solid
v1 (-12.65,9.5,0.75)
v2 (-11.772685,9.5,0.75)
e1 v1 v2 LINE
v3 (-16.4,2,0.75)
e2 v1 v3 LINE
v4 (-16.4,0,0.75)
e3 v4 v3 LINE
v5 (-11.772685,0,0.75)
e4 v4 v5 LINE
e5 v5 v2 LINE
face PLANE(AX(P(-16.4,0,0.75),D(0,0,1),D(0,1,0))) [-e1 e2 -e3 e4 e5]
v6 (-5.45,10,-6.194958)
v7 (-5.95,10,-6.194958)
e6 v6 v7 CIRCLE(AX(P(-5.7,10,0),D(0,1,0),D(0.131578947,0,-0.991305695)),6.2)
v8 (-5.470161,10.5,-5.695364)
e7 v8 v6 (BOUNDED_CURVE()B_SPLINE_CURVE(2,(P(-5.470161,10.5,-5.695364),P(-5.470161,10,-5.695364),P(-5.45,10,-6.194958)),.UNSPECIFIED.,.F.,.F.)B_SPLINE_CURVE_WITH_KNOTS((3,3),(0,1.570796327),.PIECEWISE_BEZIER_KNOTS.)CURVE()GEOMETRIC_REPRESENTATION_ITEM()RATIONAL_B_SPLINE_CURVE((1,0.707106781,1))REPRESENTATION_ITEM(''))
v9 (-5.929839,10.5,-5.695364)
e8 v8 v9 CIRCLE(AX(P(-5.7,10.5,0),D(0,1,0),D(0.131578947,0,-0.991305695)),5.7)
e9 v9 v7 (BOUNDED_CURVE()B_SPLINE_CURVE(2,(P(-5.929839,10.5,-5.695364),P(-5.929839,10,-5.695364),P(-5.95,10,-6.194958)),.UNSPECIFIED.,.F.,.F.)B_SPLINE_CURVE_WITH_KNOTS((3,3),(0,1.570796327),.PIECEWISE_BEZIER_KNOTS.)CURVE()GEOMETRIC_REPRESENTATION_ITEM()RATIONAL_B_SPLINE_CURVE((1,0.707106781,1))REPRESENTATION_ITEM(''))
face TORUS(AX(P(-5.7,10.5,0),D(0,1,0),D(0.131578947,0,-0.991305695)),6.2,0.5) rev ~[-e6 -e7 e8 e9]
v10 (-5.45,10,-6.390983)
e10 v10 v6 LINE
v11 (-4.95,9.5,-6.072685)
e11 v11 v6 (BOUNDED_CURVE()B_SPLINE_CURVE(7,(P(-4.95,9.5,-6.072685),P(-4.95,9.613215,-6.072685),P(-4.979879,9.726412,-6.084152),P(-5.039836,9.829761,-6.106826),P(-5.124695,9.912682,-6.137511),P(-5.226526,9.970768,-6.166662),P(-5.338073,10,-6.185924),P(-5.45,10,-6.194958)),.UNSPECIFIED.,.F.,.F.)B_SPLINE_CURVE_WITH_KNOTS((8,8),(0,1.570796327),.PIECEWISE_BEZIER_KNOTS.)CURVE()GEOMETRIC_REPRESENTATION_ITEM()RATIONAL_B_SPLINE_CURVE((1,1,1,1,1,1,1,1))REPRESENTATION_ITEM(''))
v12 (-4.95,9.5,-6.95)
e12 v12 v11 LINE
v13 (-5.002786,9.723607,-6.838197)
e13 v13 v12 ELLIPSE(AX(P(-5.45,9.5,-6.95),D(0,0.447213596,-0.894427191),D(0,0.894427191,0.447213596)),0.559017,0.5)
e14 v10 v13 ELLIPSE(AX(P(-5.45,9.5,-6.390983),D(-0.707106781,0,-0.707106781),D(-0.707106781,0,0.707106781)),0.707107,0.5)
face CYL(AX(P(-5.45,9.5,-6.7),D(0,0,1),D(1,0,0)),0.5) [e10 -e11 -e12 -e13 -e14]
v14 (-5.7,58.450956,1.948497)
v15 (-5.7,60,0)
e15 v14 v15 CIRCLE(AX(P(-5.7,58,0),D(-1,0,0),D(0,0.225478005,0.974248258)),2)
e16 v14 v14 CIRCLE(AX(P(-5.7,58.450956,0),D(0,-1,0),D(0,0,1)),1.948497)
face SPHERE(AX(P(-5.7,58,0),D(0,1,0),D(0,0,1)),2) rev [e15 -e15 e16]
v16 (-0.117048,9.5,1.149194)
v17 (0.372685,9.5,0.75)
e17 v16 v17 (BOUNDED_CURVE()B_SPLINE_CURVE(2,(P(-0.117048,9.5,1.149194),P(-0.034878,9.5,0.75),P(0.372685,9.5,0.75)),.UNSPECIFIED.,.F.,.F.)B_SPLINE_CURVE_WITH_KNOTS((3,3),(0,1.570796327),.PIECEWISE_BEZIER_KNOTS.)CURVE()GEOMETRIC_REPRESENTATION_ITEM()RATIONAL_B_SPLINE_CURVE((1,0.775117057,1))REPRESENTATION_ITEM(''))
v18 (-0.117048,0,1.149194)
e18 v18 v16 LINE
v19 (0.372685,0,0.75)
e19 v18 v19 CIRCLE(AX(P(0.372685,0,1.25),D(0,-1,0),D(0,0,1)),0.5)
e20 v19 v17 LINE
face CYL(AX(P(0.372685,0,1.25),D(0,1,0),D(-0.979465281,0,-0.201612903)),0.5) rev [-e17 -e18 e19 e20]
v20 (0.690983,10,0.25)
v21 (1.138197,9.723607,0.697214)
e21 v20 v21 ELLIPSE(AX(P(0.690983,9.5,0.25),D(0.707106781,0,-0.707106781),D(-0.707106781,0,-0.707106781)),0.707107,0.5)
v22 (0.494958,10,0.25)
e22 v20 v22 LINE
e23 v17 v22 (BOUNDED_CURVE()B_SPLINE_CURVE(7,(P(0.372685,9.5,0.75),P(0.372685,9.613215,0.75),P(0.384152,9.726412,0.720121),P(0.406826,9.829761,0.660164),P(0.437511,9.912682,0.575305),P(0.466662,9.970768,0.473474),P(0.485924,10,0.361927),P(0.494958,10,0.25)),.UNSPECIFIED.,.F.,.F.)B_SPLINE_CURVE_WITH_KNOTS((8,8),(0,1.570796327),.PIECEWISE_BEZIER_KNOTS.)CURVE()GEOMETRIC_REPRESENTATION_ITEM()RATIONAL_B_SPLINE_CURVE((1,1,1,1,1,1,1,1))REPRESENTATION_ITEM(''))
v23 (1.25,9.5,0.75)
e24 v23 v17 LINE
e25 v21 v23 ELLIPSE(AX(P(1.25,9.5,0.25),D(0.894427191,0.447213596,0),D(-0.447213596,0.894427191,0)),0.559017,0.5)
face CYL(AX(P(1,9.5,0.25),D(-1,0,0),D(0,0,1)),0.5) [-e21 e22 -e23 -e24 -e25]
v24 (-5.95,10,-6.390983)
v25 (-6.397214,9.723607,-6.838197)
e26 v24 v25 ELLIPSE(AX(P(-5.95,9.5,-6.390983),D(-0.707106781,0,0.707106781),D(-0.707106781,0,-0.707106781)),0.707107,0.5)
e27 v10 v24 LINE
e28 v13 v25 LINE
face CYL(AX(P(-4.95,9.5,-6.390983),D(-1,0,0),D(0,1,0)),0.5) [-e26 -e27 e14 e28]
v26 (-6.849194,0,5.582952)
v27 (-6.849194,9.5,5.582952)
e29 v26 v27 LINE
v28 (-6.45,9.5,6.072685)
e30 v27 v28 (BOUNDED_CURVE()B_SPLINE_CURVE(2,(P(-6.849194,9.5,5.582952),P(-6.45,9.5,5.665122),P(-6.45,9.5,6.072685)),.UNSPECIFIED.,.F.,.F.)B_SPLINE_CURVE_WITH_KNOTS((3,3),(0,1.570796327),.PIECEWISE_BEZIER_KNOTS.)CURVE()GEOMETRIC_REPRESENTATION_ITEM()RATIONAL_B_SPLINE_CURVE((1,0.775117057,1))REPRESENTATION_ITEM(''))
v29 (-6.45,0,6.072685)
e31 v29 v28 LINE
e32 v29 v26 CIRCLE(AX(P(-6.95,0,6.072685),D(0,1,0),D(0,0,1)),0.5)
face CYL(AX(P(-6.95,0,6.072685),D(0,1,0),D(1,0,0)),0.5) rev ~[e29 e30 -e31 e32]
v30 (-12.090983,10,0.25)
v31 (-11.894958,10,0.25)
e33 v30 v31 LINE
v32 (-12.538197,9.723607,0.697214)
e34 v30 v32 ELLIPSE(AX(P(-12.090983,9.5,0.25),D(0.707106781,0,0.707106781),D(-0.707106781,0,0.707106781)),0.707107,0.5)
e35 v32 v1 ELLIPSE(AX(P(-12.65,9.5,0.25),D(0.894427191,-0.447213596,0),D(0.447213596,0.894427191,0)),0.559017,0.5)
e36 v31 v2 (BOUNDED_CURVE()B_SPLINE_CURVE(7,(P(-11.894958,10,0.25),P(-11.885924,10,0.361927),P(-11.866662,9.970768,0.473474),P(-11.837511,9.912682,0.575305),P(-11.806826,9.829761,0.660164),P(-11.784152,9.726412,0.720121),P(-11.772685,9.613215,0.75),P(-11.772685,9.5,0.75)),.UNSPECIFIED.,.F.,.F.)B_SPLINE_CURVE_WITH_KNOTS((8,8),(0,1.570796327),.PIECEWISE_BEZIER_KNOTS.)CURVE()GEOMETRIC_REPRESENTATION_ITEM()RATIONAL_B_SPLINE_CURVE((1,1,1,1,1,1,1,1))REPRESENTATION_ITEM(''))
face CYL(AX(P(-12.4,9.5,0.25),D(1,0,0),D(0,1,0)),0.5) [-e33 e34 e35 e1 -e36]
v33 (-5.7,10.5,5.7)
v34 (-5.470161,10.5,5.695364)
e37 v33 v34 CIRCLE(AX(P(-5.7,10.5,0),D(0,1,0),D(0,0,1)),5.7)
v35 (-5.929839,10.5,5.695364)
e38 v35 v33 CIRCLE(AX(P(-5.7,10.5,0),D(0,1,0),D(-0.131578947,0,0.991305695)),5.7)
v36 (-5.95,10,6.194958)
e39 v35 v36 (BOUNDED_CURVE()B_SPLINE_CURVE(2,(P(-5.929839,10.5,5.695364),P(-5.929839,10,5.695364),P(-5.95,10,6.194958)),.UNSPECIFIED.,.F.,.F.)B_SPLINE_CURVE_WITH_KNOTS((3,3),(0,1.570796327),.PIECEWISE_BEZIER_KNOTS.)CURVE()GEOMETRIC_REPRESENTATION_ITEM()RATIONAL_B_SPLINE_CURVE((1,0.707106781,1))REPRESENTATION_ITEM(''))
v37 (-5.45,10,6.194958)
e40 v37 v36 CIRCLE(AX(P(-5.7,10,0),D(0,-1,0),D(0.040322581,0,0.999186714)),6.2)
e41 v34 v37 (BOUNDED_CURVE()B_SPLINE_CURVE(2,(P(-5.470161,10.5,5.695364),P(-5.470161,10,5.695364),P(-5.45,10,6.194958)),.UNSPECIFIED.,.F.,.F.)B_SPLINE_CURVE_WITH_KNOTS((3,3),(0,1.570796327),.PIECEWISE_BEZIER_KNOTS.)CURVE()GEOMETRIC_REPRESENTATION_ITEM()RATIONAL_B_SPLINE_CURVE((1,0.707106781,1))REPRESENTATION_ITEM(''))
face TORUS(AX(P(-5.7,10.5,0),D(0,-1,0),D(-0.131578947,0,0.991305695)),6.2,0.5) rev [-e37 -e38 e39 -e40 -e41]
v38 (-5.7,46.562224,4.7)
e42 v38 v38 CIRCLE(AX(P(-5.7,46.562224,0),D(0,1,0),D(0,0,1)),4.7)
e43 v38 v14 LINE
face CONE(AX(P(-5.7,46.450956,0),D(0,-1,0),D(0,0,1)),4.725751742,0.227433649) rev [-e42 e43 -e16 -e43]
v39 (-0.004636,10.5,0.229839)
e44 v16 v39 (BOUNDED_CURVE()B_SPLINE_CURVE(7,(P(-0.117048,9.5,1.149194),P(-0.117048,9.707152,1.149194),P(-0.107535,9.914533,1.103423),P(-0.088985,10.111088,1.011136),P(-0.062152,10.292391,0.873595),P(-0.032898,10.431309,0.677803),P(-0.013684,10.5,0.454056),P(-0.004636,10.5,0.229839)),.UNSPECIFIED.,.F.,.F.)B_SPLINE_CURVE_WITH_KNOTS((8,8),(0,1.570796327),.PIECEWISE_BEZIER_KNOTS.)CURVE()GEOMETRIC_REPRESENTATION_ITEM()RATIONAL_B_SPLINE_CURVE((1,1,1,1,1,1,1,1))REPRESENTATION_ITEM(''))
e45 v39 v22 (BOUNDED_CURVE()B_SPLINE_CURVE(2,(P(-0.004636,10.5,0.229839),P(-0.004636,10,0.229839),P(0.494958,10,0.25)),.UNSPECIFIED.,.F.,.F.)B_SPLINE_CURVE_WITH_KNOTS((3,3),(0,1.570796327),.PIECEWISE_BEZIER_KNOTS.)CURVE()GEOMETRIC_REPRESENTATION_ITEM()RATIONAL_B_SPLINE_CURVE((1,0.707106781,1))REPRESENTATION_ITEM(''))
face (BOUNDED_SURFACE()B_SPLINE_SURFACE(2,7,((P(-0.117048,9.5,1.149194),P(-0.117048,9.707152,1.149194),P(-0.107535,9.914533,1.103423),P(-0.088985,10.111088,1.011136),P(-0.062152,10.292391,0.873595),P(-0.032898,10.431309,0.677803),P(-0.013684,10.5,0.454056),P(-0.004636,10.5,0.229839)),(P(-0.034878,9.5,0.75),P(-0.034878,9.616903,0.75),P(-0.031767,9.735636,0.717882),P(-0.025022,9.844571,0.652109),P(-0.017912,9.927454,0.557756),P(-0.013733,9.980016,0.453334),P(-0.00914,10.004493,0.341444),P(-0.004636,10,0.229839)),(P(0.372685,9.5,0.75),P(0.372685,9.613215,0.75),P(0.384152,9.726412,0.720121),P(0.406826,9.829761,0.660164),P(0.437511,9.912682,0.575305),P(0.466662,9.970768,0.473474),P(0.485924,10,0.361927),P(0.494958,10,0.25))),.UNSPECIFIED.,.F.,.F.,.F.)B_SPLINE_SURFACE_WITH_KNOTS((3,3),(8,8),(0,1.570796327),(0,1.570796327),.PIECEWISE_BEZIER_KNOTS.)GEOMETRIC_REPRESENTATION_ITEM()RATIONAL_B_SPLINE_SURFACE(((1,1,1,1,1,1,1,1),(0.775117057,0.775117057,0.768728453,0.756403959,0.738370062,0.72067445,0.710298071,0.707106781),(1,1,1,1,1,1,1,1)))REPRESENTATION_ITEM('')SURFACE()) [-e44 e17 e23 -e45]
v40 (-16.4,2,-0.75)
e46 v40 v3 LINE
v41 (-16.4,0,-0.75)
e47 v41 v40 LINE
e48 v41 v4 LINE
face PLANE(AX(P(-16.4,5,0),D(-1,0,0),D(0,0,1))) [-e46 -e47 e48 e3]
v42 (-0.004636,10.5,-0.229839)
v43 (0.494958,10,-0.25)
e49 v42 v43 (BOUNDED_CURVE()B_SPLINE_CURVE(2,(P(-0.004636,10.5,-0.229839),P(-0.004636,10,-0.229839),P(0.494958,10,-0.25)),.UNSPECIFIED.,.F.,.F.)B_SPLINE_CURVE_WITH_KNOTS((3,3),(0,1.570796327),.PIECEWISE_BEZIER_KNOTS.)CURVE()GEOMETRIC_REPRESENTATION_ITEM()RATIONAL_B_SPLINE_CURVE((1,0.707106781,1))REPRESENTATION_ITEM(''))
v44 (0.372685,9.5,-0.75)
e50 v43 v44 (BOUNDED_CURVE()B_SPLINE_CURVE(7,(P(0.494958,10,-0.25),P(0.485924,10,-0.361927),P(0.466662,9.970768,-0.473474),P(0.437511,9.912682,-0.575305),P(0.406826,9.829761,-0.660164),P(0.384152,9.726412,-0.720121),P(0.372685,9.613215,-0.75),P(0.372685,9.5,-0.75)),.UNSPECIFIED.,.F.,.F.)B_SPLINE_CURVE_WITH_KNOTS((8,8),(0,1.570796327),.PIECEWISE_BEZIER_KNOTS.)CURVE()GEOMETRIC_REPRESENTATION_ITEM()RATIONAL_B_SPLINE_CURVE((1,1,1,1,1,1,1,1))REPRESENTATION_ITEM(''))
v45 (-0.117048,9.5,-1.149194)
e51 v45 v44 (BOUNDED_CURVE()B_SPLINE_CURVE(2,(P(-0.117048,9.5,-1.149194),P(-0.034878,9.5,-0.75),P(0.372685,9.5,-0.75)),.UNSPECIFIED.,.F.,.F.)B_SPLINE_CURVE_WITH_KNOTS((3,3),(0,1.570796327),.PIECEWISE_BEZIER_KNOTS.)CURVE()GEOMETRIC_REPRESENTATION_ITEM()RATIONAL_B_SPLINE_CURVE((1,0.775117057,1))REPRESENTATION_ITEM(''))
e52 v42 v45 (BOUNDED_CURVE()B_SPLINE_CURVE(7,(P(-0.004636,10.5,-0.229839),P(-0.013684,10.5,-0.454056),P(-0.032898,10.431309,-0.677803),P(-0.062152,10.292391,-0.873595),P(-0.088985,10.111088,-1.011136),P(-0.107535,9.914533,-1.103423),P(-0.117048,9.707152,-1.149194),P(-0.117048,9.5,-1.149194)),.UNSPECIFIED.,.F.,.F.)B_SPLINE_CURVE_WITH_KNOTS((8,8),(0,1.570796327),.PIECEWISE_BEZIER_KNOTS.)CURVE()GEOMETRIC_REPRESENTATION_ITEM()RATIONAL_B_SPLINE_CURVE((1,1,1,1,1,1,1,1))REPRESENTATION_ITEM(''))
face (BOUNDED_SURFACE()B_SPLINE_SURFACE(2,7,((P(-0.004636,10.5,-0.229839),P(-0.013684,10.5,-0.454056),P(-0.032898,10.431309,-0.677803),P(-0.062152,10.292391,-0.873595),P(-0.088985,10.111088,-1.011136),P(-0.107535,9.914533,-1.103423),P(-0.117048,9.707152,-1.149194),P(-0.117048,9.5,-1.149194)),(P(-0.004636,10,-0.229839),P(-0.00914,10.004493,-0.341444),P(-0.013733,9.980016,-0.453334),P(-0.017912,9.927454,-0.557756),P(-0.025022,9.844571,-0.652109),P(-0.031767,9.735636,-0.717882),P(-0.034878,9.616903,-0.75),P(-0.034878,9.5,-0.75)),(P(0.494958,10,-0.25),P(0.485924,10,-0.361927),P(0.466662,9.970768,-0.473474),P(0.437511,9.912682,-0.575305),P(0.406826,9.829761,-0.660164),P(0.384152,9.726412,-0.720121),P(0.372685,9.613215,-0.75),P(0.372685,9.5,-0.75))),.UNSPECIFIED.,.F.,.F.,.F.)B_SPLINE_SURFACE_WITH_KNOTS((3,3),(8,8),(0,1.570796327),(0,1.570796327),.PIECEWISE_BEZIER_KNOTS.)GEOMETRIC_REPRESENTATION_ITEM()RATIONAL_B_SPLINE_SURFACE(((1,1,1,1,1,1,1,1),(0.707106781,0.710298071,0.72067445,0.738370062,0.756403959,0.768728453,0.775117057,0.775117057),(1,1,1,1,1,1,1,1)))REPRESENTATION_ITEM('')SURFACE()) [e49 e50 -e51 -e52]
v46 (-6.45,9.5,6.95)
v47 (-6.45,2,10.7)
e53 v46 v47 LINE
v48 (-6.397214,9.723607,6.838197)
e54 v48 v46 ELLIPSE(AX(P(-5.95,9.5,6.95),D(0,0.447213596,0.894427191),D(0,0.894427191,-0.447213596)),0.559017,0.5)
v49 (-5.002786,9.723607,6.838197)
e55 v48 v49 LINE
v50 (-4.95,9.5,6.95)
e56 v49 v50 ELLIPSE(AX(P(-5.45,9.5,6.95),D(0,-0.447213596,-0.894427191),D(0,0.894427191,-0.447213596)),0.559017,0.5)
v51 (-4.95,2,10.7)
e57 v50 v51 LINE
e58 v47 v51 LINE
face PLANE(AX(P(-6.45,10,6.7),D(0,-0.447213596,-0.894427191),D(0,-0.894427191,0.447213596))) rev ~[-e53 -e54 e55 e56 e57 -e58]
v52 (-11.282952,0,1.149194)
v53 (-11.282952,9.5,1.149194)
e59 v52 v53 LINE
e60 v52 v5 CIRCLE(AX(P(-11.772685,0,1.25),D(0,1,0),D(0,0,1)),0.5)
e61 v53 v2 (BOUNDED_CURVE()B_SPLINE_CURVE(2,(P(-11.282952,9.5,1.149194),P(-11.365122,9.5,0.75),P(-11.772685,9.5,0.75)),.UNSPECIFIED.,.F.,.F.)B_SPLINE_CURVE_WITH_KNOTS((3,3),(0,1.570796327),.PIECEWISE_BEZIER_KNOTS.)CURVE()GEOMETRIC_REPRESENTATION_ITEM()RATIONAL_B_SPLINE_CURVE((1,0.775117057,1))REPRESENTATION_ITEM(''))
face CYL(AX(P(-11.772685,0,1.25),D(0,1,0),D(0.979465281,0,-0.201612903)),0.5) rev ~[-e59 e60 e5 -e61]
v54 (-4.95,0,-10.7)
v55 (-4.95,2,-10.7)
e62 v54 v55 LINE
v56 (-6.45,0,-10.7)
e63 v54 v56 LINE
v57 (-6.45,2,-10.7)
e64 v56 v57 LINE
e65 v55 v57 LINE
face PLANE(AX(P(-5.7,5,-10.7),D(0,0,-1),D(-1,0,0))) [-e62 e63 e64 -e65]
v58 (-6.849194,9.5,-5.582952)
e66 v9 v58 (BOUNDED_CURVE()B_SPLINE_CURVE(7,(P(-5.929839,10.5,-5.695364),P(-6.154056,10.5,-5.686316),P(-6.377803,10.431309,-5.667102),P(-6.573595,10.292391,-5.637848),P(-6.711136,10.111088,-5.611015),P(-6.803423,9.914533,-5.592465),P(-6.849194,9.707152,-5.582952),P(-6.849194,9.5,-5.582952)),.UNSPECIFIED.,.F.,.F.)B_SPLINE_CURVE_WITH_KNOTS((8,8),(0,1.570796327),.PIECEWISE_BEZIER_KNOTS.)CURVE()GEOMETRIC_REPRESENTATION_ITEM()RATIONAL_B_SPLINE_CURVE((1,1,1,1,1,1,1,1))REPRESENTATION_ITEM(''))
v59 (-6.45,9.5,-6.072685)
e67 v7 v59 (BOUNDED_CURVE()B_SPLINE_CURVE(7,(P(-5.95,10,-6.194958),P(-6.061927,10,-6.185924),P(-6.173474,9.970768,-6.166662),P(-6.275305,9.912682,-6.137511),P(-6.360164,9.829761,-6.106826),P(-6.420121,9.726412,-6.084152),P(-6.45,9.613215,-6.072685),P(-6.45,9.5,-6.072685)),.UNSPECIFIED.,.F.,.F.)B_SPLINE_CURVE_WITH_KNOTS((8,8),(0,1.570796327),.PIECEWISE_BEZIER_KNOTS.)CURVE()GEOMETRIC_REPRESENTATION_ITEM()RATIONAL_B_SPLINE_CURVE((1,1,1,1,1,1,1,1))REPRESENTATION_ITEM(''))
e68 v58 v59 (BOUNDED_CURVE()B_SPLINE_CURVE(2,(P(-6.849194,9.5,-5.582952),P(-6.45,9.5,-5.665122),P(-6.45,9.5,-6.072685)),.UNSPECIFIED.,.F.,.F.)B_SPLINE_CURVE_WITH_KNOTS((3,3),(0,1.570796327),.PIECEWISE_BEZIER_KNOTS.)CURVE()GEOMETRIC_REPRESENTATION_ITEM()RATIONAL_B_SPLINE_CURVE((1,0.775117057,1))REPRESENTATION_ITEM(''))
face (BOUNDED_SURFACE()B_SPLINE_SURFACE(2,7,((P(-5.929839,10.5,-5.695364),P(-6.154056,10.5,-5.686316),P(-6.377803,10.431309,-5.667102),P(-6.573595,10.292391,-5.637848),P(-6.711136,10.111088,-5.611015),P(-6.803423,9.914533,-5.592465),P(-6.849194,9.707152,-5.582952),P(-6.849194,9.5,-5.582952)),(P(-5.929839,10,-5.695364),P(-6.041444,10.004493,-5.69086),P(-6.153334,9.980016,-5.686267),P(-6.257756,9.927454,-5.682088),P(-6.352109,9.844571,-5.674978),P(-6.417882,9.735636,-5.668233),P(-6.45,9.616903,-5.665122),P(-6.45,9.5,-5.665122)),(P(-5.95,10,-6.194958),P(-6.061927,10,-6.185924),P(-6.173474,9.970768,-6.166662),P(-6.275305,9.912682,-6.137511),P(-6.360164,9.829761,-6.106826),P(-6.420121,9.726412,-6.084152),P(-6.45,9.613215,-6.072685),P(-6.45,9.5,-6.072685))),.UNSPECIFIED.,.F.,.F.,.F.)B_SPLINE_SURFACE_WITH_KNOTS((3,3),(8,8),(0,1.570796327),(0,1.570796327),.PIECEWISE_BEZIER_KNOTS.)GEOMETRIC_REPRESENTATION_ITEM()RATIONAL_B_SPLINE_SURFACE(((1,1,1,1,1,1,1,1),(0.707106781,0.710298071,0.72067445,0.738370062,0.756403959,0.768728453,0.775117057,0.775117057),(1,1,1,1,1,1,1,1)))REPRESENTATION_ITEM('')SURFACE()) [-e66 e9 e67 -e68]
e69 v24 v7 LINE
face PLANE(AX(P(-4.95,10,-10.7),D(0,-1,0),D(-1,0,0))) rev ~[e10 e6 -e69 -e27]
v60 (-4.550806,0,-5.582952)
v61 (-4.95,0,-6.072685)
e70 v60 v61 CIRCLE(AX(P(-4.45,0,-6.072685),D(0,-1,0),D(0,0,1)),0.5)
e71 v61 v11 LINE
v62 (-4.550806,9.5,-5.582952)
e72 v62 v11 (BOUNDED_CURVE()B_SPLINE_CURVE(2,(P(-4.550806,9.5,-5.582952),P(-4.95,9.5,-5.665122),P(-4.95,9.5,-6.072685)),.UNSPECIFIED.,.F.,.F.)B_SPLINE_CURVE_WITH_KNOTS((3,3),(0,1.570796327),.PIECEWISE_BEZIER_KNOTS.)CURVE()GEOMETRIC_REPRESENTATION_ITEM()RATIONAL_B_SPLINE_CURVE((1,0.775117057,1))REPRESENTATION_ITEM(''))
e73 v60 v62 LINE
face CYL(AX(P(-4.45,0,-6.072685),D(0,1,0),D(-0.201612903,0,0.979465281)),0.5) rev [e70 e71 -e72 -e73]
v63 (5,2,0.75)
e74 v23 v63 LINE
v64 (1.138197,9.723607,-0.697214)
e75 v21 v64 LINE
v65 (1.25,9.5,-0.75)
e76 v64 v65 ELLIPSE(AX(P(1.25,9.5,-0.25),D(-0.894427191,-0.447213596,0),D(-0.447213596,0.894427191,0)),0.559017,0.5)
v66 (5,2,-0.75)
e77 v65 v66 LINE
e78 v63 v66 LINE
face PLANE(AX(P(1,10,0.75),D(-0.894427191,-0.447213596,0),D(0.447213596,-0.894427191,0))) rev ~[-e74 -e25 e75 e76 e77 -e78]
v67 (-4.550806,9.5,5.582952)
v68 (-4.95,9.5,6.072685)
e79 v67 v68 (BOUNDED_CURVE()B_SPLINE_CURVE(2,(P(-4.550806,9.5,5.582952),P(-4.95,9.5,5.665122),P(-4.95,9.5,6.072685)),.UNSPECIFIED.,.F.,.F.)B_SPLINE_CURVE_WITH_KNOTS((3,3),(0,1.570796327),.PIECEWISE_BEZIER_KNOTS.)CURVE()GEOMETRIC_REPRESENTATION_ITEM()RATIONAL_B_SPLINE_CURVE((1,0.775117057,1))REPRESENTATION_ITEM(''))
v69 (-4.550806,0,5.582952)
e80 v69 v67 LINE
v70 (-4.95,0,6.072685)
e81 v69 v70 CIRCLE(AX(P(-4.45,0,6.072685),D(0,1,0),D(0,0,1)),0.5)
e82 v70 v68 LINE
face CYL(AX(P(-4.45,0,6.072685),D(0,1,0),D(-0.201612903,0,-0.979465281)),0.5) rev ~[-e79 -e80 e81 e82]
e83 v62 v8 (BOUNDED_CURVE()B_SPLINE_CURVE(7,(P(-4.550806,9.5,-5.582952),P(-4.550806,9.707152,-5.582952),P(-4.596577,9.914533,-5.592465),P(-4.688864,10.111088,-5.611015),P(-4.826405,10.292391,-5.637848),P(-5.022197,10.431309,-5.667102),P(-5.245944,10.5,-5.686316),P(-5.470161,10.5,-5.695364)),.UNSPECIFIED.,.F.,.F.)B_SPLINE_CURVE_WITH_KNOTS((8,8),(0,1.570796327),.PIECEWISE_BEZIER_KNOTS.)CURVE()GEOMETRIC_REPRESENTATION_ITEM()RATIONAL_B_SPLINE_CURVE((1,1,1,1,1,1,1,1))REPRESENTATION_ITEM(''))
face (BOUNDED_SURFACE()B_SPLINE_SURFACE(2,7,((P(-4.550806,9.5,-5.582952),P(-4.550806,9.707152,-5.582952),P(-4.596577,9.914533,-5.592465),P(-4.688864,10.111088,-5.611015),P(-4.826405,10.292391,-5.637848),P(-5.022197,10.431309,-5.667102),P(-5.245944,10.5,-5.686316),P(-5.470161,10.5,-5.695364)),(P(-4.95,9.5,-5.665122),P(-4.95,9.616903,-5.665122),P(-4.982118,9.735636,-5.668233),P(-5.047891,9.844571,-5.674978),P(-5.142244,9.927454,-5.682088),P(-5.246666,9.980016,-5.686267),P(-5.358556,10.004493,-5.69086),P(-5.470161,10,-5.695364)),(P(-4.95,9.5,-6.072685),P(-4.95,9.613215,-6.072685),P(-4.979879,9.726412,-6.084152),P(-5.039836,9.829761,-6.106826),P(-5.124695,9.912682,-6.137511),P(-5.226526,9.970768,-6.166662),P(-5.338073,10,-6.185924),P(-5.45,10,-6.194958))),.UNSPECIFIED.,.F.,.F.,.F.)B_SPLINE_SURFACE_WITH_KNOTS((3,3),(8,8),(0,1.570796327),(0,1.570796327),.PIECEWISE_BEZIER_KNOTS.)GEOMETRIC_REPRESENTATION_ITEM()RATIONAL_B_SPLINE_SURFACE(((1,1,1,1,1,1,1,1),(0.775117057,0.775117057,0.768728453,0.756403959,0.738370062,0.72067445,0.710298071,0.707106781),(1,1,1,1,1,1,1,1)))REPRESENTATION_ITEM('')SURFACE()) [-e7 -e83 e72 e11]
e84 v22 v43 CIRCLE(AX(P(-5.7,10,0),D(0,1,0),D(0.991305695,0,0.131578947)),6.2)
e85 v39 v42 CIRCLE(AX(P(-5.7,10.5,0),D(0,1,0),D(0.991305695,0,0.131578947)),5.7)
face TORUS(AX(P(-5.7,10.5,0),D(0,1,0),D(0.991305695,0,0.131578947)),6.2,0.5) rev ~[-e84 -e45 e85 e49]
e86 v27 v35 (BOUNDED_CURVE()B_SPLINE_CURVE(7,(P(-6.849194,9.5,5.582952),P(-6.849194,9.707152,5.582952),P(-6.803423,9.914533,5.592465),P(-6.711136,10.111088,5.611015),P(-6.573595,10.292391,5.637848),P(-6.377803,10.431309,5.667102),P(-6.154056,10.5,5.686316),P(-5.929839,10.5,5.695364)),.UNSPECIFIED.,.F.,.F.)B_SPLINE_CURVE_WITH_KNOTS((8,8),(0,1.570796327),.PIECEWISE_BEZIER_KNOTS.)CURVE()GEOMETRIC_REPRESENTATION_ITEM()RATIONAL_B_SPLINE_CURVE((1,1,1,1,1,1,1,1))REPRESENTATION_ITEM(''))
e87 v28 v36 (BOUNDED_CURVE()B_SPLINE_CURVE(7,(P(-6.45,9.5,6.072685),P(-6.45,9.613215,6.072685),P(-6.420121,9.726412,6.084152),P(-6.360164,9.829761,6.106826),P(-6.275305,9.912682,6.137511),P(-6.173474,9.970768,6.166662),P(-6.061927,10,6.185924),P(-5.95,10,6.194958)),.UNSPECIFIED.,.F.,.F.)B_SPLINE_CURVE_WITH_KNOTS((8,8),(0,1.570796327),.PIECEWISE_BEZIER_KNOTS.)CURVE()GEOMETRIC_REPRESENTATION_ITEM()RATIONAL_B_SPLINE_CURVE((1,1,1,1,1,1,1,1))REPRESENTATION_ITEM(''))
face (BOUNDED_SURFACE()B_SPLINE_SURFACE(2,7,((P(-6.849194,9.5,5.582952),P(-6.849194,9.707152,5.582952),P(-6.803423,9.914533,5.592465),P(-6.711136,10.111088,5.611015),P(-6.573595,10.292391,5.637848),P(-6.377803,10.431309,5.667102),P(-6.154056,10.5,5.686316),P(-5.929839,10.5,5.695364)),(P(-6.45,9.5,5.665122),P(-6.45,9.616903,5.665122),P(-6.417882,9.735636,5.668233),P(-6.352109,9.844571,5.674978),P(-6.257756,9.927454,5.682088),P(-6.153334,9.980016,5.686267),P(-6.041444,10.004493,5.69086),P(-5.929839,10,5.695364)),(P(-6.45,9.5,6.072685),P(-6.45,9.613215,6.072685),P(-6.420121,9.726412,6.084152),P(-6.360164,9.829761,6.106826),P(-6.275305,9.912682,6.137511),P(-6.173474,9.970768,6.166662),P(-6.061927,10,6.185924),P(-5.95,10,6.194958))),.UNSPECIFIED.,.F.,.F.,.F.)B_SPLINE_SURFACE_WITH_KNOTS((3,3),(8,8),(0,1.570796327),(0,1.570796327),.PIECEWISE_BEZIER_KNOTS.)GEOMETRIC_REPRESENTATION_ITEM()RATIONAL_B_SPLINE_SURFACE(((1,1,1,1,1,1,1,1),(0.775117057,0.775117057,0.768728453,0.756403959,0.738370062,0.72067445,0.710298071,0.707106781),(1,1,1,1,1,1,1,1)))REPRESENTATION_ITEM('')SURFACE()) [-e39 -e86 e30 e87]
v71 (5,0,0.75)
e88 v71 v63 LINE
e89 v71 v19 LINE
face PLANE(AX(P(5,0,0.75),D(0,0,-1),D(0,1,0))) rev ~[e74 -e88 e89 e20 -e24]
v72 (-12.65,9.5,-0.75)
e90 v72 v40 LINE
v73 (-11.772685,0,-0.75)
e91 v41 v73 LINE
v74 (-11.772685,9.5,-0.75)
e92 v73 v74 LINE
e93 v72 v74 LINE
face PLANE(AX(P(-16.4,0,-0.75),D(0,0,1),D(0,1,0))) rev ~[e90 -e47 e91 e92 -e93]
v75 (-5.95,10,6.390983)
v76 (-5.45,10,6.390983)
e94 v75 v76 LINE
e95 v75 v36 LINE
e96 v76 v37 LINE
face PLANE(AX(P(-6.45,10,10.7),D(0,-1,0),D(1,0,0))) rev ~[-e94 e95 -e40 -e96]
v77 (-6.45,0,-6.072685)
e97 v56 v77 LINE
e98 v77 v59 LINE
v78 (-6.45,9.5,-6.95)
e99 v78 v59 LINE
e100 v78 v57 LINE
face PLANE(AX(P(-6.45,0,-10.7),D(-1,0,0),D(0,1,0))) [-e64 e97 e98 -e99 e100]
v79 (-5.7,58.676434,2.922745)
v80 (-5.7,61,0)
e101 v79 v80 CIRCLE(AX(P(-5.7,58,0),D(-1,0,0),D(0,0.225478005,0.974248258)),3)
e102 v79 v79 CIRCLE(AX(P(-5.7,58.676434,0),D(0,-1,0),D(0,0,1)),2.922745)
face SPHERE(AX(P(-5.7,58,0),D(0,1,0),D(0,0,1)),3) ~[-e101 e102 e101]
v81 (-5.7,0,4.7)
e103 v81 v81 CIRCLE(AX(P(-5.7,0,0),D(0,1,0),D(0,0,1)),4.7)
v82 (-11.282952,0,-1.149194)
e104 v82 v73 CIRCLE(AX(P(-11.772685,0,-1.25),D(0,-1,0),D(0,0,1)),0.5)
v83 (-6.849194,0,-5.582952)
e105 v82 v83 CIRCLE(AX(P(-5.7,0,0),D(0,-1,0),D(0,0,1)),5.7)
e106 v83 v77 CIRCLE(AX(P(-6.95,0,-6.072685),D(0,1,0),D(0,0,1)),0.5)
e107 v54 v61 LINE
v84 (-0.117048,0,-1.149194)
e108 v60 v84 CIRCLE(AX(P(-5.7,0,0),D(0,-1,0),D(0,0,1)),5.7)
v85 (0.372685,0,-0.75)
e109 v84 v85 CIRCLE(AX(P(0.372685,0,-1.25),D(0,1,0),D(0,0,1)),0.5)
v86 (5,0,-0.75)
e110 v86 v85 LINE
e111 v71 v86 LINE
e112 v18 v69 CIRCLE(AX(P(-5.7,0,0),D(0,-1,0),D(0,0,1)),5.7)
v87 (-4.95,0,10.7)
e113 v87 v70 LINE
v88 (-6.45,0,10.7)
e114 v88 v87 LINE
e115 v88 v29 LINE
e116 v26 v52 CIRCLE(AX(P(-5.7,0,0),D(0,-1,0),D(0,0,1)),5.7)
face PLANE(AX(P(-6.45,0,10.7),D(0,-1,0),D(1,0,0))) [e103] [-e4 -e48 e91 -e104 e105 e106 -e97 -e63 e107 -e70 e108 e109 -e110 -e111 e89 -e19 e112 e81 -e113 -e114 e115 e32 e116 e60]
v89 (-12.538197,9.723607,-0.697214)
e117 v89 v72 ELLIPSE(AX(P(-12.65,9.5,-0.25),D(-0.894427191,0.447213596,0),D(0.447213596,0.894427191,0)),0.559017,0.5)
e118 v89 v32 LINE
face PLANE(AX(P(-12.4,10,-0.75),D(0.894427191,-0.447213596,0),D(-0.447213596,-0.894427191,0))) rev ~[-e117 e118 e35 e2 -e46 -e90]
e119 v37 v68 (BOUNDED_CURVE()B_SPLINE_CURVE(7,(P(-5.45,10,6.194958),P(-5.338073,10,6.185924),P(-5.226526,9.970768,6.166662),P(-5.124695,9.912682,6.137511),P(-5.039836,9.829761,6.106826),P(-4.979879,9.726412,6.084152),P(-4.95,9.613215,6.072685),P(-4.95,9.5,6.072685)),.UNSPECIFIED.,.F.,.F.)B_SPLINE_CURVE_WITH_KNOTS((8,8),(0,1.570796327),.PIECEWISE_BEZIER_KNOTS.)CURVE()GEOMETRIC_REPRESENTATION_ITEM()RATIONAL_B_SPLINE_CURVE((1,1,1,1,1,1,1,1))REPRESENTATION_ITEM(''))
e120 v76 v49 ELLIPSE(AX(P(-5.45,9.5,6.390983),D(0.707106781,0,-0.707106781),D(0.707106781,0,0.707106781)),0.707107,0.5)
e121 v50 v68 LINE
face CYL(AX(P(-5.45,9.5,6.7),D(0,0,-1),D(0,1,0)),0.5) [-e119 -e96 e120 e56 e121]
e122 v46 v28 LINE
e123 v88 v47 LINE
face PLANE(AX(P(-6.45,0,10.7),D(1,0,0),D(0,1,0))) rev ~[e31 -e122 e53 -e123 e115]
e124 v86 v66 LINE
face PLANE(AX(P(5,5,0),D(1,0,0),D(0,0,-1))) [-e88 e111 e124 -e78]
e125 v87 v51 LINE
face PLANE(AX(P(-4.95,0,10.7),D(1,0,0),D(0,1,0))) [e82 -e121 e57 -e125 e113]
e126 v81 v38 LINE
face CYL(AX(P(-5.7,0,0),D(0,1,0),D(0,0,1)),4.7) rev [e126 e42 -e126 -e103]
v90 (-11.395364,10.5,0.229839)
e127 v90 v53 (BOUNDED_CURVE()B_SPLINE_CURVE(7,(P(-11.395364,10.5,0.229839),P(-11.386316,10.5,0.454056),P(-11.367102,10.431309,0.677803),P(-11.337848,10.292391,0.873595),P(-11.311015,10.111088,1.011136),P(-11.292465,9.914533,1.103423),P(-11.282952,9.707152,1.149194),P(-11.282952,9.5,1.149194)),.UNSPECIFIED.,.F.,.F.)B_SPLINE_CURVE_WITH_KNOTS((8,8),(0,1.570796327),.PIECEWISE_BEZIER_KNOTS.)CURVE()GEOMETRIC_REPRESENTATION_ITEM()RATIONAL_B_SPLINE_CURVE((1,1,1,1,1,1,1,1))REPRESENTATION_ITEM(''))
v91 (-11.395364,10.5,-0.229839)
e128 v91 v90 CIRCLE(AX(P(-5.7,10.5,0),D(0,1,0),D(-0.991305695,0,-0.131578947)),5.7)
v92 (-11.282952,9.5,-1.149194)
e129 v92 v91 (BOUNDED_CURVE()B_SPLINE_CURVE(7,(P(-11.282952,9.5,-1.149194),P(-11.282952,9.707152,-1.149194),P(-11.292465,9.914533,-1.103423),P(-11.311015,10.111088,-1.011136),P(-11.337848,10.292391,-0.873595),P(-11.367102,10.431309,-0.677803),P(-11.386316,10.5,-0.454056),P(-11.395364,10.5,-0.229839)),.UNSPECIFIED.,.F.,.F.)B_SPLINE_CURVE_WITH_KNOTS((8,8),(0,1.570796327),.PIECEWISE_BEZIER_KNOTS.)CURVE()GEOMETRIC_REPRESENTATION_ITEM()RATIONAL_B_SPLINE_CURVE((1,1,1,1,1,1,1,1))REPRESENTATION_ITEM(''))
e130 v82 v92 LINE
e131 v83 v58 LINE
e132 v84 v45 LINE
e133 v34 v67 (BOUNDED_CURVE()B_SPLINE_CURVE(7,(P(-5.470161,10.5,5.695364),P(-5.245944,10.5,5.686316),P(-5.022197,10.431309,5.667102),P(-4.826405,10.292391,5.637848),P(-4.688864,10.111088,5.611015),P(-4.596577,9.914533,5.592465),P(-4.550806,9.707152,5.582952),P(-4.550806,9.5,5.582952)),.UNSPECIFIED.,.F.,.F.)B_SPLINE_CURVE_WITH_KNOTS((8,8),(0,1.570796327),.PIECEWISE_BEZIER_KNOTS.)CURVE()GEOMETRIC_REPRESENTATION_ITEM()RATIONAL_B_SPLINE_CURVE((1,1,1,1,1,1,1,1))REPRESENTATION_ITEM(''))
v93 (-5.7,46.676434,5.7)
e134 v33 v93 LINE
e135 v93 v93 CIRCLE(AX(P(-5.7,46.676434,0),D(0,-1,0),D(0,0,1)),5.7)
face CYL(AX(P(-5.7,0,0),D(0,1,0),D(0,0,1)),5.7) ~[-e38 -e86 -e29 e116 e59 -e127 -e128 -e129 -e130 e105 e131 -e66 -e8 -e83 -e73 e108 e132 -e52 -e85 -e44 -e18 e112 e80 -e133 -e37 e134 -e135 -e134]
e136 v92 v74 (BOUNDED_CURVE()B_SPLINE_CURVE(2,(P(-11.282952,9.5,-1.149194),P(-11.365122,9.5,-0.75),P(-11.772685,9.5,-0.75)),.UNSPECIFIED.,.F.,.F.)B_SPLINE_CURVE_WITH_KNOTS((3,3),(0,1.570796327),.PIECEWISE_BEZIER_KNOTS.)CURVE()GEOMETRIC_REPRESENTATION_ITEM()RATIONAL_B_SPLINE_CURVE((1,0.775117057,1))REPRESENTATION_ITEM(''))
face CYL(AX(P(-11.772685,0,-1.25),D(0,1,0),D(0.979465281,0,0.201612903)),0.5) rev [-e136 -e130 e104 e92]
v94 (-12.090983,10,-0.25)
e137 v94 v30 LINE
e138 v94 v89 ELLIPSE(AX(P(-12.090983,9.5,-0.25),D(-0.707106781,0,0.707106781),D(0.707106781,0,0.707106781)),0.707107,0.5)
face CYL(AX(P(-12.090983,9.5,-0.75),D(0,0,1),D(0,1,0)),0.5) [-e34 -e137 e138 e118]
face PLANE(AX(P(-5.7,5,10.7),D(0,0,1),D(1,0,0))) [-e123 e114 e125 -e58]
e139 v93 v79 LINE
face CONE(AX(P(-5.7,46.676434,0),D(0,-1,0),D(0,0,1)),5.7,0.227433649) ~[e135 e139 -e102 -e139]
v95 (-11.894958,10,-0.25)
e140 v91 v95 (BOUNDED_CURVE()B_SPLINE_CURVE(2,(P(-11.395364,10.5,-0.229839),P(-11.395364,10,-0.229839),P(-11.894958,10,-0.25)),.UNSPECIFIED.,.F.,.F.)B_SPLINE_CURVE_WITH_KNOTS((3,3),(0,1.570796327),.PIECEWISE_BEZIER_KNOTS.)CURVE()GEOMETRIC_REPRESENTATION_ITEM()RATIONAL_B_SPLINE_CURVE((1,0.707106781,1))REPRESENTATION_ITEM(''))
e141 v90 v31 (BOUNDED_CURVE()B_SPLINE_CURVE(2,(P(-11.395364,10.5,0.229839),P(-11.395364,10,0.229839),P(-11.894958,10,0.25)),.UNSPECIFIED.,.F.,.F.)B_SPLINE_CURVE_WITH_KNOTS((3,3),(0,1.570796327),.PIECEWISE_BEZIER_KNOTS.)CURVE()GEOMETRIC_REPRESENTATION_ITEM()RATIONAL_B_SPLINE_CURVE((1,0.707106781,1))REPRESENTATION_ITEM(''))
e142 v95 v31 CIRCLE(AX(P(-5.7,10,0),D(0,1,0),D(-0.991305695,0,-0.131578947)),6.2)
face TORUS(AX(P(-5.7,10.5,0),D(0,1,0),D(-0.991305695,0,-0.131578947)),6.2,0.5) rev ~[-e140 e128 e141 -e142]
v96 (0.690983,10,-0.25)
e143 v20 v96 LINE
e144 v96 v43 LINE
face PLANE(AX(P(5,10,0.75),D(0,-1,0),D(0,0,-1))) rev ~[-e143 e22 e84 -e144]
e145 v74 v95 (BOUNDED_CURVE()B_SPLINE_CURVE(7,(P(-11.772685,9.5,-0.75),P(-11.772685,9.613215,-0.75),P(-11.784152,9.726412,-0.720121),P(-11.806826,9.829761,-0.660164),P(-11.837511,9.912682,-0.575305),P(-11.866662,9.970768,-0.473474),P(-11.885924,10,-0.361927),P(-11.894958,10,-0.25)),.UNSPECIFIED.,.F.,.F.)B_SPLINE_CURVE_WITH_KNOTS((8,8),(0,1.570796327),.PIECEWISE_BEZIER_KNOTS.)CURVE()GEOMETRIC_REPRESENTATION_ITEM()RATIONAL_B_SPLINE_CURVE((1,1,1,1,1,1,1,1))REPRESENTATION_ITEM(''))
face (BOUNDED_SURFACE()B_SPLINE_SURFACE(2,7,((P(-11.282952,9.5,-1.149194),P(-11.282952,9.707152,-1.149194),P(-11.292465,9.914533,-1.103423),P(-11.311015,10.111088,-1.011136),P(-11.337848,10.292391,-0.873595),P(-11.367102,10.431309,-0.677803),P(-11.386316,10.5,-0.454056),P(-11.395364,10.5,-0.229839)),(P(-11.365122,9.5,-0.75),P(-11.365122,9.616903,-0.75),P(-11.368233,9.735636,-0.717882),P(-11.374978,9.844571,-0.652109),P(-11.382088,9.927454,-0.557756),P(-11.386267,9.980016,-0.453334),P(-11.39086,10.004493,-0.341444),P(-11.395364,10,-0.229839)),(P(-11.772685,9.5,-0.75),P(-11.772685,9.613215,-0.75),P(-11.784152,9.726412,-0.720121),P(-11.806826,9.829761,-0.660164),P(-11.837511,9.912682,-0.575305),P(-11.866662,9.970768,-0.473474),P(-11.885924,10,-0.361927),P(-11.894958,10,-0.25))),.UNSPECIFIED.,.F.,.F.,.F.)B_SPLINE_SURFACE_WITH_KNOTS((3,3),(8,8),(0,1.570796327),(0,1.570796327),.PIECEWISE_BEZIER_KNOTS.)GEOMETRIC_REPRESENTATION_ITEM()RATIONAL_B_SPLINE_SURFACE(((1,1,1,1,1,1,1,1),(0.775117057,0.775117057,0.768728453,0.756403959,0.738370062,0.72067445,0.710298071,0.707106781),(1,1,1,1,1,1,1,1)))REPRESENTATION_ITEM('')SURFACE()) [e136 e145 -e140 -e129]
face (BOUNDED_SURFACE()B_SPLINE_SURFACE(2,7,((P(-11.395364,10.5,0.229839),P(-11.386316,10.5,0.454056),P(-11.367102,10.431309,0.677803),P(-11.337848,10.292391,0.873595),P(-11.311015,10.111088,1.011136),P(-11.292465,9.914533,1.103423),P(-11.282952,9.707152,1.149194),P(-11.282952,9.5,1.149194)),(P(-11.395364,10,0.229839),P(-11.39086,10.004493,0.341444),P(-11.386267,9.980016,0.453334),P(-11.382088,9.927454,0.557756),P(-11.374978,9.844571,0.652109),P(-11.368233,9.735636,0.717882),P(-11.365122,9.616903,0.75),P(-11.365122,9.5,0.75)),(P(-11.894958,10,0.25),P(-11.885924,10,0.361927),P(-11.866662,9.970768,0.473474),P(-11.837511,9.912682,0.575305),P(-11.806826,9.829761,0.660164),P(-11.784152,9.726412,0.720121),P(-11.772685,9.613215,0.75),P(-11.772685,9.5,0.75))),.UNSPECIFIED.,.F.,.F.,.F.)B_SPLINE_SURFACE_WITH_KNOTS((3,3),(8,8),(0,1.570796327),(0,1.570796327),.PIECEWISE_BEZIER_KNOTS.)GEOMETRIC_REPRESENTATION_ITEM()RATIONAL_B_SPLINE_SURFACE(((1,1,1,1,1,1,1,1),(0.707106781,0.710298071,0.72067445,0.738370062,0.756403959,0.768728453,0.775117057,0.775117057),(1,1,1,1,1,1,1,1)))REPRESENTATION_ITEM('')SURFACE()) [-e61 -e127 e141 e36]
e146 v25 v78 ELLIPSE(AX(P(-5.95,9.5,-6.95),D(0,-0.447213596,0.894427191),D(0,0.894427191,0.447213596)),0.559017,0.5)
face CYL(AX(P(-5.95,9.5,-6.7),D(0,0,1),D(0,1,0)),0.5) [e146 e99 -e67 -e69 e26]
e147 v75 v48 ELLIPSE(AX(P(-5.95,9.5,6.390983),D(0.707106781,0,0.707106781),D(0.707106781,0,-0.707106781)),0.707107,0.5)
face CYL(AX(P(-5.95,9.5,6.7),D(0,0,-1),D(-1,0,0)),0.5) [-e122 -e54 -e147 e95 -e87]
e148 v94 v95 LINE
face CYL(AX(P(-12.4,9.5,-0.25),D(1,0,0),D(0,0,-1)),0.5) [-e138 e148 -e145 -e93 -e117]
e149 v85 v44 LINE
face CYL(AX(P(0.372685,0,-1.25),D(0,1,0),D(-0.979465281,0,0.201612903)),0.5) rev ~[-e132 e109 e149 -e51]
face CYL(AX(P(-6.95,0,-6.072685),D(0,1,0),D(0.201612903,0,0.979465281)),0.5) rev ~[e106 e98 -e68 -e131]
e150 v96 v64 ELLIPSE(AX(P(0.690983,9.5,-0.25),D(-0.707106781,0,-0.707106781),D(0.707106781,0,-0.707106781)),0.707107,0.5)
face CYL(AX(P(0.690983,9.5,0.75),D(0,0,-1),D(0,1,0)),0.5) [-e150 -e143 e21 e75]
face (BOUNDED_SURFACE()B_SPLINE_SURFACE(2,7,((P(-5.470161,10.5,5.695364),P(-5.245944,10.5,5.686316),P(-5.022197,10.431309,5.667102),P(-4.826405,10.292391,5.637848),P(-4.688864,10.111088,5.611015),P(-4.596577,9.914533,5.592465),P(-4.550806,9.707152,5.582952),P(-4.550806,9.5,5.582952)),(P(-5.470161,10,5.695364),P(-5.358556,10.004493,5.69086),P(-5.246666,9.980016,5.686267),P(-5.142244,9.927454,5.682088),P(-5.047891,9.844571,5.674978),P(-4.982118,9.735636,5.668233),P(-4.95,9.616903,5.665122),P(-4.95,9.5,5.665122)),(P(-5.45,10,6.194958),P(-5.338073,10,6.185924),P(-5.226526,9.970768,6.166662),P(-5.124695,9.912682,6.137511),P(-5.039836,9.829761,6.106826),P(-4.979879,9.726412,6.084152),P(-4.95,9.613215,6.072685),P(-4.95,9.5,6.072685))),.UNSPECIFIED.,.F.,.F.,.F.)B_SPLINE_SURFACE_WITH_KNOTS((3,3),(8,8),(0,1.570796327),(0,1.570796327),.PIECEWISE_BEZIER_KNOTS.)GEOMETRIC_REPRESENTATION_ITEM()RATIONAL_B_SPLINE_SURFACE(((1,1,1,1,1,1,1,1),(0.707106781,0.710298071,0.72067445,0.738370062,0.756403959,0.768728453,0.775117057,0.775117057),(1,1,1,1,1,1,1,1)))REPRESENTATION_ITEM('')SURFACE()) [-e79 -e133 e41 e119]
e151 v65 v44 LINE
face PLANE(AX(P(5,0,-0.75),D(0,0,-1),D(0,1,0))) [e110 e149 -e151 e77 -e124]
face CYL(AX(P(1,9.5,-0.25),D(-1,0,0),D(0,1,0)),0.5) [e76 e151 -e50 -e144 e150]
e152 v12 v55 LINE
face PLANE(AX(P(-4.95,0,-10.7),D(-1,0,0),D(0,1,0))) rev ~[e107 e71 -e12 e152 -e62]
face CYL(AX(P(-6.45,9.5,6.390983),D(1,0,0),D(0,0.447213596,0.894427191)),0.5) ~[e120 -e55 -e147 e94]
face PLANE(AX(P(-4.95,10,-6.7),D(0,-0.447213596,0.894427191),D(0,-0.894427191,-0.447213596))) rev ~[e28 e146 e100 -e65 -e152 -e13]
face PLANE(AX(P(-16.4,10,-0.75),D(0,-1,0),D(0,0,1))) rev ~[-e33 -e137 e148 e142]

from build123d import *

# Parameters (mm, degrees)
SHELL1_T                 = -1
BOSS_EXTRUDE2_REACH      = 69.317
BOSS_EXTRUDE2_END_RADIUS = 5.7
BOSS_EXTRUDE2_START      = 5
SKETCH4_W                = 1.5
SKETCH4_H                = 10
CUT_EXTRUDE1_DEPTH       = 1.5
CIRPATTERN1_COUNT        = 4
FILLET1_R                = 0.5


with BuildPart() as part:
    # Sketch2 → Revolve1 (revolve)
    with BuildSketch(Plane.XY, mode=Mode.PRIVATE) as revolve1_sk:
        with BuildLine():
            Line((0, 46.676434016), (-2.777255225, 58.676434016))
            ThreePointArc((-2.777255225, 58.676434016), (-3.833091064, 60.348329411), (-5.7, 61))
            Line((-5.7, 61), (-5.7, 58))
            Line((-5.7, 58), (-5.7, 0))
            Line((-5.7, 0), (0, 0))
            Line((0, 0), (0, 46.676434016))
        make_face()
    revolve(revolve1_sk.sketch.rotate(Axis((-5.7, 58, 0), (0, -1, 0)), 90), axis=Axis((-5.7, 58, 0), (0, -1, 0)))

    # Shell1
    shell1_openings = [part.faces().sort_by_distance(p)[0] for p in [
        (-5.7, 0, 0),
    ]]
    offset(amount=SHELL1_T, openings=shell1_openings, kind=Kind.INTERSECTION)

    # Boss-Extrude2: up to this cylinder (the profile starts outside it)
    boss_extrude2_end = Plane(origin=(-5.7, 5, 0), z_dir=(0, 1, 0)) * Cylinder(BOSS_EXTRUDE2_END_RADIUS, 151.034, mode=Mode.PRIVATE)
    # Sketch4 → Boss-Extrude2 (add, up to the surface)
    with BuildSketch(Plane(origin=(0, 0, 0), x_dir=(0, 0, -1), z_dir=(1, 0, 0)).offset(BOSS_EXTRUDE2_START), mode=Mode.PRIVATE) as boss_extrude2_sk1:
        with Locations((0, 5)):
            Rectangle(SKETCH4_W, SKETCH4_H)
    boss_extrude2_tool1 = extrude(boss_extrude2_sk1.sketch, amount=-BOSS_EXTRUDE2_REACH, mode=Mode.PRIVATE) - boss_extrude2_end
    boss_extrude2 = boss_extrude2_tool1.solids().sort_by_distance((5, 5, 0))[0]
    add(boss_extrude2)

    # Sketch5 → Cut-Extrude1 (cut)
    with BuildSketch(Plane.XY.offset(0.75)):
        Polygon((1, 10), (5, 2), (5, 10), align=None)
    cut_extrude1 = extrude(amount=-CUT_EXTRUDE1_DEPTH, mode=Mode.SUBTRACT)

    # CirPattern1: Boss-Extrude2, Cut-Extrude1 ×4 about axis
    cirpattern1_axis = Axis((-5.7, 0, 0), (0, 1, 0))
    add([boss_extrude2.rotate(cirpattern1_axis, i * 360 / CIRPATTERN1_COUNT) for i in range(1, CIRPATTERN1_COUNT)])
    add([cut_extrude1.rotate(cirpattern1_axis, i * 360 / CIRPATTERN1_COUNT) for i in range(1, CIRPATTERN1_COUNT)], mode=Mode.SUBTRACT)

    # Fillet1
    fillet1_edges = [part.edges().sort_by_distance(p)[0] for p in [
        (-0.049557539, 5, -0.75),
        (0.47522123, 10, -0.75),
        (0, 10, 0),
        (0.47522123, 10, 0.75),
        (-0.049557539, 5, 0.75),
        (1, 10, 0),
        (-6.45, 5, -5.650442461),
        (-6.45, 10, -6.17522123),
        (-5.7, 10, -5.7),
        (-4.95, 10, -6.17522123),
        (-4.95, 5, -5.650442461),
        (-11.350442461, 5, 0.75),
        (-11.87522123, 10, 0.75),
        (-11.4, 10, 0),
        (-11.87522123, 10, -0.75),
        (-11.350442461, 5, -0.75),
        (-6.45, 5, 5.650442461),
        (-5.324182242, 10, 5.687597121),
        (-6.45, 10, 6.17522123),
        (-4.95, 5, 5.650442461),
        (-4.95, 10, 6.17522123),
        (-5.7, 10, -6.7),
        (-12.4, 10, 0),
        (-5.7, 10, 6.7),
    ]]
    fillet(fillet1_edges, radius=FILLET1_R)


solid = part.part
